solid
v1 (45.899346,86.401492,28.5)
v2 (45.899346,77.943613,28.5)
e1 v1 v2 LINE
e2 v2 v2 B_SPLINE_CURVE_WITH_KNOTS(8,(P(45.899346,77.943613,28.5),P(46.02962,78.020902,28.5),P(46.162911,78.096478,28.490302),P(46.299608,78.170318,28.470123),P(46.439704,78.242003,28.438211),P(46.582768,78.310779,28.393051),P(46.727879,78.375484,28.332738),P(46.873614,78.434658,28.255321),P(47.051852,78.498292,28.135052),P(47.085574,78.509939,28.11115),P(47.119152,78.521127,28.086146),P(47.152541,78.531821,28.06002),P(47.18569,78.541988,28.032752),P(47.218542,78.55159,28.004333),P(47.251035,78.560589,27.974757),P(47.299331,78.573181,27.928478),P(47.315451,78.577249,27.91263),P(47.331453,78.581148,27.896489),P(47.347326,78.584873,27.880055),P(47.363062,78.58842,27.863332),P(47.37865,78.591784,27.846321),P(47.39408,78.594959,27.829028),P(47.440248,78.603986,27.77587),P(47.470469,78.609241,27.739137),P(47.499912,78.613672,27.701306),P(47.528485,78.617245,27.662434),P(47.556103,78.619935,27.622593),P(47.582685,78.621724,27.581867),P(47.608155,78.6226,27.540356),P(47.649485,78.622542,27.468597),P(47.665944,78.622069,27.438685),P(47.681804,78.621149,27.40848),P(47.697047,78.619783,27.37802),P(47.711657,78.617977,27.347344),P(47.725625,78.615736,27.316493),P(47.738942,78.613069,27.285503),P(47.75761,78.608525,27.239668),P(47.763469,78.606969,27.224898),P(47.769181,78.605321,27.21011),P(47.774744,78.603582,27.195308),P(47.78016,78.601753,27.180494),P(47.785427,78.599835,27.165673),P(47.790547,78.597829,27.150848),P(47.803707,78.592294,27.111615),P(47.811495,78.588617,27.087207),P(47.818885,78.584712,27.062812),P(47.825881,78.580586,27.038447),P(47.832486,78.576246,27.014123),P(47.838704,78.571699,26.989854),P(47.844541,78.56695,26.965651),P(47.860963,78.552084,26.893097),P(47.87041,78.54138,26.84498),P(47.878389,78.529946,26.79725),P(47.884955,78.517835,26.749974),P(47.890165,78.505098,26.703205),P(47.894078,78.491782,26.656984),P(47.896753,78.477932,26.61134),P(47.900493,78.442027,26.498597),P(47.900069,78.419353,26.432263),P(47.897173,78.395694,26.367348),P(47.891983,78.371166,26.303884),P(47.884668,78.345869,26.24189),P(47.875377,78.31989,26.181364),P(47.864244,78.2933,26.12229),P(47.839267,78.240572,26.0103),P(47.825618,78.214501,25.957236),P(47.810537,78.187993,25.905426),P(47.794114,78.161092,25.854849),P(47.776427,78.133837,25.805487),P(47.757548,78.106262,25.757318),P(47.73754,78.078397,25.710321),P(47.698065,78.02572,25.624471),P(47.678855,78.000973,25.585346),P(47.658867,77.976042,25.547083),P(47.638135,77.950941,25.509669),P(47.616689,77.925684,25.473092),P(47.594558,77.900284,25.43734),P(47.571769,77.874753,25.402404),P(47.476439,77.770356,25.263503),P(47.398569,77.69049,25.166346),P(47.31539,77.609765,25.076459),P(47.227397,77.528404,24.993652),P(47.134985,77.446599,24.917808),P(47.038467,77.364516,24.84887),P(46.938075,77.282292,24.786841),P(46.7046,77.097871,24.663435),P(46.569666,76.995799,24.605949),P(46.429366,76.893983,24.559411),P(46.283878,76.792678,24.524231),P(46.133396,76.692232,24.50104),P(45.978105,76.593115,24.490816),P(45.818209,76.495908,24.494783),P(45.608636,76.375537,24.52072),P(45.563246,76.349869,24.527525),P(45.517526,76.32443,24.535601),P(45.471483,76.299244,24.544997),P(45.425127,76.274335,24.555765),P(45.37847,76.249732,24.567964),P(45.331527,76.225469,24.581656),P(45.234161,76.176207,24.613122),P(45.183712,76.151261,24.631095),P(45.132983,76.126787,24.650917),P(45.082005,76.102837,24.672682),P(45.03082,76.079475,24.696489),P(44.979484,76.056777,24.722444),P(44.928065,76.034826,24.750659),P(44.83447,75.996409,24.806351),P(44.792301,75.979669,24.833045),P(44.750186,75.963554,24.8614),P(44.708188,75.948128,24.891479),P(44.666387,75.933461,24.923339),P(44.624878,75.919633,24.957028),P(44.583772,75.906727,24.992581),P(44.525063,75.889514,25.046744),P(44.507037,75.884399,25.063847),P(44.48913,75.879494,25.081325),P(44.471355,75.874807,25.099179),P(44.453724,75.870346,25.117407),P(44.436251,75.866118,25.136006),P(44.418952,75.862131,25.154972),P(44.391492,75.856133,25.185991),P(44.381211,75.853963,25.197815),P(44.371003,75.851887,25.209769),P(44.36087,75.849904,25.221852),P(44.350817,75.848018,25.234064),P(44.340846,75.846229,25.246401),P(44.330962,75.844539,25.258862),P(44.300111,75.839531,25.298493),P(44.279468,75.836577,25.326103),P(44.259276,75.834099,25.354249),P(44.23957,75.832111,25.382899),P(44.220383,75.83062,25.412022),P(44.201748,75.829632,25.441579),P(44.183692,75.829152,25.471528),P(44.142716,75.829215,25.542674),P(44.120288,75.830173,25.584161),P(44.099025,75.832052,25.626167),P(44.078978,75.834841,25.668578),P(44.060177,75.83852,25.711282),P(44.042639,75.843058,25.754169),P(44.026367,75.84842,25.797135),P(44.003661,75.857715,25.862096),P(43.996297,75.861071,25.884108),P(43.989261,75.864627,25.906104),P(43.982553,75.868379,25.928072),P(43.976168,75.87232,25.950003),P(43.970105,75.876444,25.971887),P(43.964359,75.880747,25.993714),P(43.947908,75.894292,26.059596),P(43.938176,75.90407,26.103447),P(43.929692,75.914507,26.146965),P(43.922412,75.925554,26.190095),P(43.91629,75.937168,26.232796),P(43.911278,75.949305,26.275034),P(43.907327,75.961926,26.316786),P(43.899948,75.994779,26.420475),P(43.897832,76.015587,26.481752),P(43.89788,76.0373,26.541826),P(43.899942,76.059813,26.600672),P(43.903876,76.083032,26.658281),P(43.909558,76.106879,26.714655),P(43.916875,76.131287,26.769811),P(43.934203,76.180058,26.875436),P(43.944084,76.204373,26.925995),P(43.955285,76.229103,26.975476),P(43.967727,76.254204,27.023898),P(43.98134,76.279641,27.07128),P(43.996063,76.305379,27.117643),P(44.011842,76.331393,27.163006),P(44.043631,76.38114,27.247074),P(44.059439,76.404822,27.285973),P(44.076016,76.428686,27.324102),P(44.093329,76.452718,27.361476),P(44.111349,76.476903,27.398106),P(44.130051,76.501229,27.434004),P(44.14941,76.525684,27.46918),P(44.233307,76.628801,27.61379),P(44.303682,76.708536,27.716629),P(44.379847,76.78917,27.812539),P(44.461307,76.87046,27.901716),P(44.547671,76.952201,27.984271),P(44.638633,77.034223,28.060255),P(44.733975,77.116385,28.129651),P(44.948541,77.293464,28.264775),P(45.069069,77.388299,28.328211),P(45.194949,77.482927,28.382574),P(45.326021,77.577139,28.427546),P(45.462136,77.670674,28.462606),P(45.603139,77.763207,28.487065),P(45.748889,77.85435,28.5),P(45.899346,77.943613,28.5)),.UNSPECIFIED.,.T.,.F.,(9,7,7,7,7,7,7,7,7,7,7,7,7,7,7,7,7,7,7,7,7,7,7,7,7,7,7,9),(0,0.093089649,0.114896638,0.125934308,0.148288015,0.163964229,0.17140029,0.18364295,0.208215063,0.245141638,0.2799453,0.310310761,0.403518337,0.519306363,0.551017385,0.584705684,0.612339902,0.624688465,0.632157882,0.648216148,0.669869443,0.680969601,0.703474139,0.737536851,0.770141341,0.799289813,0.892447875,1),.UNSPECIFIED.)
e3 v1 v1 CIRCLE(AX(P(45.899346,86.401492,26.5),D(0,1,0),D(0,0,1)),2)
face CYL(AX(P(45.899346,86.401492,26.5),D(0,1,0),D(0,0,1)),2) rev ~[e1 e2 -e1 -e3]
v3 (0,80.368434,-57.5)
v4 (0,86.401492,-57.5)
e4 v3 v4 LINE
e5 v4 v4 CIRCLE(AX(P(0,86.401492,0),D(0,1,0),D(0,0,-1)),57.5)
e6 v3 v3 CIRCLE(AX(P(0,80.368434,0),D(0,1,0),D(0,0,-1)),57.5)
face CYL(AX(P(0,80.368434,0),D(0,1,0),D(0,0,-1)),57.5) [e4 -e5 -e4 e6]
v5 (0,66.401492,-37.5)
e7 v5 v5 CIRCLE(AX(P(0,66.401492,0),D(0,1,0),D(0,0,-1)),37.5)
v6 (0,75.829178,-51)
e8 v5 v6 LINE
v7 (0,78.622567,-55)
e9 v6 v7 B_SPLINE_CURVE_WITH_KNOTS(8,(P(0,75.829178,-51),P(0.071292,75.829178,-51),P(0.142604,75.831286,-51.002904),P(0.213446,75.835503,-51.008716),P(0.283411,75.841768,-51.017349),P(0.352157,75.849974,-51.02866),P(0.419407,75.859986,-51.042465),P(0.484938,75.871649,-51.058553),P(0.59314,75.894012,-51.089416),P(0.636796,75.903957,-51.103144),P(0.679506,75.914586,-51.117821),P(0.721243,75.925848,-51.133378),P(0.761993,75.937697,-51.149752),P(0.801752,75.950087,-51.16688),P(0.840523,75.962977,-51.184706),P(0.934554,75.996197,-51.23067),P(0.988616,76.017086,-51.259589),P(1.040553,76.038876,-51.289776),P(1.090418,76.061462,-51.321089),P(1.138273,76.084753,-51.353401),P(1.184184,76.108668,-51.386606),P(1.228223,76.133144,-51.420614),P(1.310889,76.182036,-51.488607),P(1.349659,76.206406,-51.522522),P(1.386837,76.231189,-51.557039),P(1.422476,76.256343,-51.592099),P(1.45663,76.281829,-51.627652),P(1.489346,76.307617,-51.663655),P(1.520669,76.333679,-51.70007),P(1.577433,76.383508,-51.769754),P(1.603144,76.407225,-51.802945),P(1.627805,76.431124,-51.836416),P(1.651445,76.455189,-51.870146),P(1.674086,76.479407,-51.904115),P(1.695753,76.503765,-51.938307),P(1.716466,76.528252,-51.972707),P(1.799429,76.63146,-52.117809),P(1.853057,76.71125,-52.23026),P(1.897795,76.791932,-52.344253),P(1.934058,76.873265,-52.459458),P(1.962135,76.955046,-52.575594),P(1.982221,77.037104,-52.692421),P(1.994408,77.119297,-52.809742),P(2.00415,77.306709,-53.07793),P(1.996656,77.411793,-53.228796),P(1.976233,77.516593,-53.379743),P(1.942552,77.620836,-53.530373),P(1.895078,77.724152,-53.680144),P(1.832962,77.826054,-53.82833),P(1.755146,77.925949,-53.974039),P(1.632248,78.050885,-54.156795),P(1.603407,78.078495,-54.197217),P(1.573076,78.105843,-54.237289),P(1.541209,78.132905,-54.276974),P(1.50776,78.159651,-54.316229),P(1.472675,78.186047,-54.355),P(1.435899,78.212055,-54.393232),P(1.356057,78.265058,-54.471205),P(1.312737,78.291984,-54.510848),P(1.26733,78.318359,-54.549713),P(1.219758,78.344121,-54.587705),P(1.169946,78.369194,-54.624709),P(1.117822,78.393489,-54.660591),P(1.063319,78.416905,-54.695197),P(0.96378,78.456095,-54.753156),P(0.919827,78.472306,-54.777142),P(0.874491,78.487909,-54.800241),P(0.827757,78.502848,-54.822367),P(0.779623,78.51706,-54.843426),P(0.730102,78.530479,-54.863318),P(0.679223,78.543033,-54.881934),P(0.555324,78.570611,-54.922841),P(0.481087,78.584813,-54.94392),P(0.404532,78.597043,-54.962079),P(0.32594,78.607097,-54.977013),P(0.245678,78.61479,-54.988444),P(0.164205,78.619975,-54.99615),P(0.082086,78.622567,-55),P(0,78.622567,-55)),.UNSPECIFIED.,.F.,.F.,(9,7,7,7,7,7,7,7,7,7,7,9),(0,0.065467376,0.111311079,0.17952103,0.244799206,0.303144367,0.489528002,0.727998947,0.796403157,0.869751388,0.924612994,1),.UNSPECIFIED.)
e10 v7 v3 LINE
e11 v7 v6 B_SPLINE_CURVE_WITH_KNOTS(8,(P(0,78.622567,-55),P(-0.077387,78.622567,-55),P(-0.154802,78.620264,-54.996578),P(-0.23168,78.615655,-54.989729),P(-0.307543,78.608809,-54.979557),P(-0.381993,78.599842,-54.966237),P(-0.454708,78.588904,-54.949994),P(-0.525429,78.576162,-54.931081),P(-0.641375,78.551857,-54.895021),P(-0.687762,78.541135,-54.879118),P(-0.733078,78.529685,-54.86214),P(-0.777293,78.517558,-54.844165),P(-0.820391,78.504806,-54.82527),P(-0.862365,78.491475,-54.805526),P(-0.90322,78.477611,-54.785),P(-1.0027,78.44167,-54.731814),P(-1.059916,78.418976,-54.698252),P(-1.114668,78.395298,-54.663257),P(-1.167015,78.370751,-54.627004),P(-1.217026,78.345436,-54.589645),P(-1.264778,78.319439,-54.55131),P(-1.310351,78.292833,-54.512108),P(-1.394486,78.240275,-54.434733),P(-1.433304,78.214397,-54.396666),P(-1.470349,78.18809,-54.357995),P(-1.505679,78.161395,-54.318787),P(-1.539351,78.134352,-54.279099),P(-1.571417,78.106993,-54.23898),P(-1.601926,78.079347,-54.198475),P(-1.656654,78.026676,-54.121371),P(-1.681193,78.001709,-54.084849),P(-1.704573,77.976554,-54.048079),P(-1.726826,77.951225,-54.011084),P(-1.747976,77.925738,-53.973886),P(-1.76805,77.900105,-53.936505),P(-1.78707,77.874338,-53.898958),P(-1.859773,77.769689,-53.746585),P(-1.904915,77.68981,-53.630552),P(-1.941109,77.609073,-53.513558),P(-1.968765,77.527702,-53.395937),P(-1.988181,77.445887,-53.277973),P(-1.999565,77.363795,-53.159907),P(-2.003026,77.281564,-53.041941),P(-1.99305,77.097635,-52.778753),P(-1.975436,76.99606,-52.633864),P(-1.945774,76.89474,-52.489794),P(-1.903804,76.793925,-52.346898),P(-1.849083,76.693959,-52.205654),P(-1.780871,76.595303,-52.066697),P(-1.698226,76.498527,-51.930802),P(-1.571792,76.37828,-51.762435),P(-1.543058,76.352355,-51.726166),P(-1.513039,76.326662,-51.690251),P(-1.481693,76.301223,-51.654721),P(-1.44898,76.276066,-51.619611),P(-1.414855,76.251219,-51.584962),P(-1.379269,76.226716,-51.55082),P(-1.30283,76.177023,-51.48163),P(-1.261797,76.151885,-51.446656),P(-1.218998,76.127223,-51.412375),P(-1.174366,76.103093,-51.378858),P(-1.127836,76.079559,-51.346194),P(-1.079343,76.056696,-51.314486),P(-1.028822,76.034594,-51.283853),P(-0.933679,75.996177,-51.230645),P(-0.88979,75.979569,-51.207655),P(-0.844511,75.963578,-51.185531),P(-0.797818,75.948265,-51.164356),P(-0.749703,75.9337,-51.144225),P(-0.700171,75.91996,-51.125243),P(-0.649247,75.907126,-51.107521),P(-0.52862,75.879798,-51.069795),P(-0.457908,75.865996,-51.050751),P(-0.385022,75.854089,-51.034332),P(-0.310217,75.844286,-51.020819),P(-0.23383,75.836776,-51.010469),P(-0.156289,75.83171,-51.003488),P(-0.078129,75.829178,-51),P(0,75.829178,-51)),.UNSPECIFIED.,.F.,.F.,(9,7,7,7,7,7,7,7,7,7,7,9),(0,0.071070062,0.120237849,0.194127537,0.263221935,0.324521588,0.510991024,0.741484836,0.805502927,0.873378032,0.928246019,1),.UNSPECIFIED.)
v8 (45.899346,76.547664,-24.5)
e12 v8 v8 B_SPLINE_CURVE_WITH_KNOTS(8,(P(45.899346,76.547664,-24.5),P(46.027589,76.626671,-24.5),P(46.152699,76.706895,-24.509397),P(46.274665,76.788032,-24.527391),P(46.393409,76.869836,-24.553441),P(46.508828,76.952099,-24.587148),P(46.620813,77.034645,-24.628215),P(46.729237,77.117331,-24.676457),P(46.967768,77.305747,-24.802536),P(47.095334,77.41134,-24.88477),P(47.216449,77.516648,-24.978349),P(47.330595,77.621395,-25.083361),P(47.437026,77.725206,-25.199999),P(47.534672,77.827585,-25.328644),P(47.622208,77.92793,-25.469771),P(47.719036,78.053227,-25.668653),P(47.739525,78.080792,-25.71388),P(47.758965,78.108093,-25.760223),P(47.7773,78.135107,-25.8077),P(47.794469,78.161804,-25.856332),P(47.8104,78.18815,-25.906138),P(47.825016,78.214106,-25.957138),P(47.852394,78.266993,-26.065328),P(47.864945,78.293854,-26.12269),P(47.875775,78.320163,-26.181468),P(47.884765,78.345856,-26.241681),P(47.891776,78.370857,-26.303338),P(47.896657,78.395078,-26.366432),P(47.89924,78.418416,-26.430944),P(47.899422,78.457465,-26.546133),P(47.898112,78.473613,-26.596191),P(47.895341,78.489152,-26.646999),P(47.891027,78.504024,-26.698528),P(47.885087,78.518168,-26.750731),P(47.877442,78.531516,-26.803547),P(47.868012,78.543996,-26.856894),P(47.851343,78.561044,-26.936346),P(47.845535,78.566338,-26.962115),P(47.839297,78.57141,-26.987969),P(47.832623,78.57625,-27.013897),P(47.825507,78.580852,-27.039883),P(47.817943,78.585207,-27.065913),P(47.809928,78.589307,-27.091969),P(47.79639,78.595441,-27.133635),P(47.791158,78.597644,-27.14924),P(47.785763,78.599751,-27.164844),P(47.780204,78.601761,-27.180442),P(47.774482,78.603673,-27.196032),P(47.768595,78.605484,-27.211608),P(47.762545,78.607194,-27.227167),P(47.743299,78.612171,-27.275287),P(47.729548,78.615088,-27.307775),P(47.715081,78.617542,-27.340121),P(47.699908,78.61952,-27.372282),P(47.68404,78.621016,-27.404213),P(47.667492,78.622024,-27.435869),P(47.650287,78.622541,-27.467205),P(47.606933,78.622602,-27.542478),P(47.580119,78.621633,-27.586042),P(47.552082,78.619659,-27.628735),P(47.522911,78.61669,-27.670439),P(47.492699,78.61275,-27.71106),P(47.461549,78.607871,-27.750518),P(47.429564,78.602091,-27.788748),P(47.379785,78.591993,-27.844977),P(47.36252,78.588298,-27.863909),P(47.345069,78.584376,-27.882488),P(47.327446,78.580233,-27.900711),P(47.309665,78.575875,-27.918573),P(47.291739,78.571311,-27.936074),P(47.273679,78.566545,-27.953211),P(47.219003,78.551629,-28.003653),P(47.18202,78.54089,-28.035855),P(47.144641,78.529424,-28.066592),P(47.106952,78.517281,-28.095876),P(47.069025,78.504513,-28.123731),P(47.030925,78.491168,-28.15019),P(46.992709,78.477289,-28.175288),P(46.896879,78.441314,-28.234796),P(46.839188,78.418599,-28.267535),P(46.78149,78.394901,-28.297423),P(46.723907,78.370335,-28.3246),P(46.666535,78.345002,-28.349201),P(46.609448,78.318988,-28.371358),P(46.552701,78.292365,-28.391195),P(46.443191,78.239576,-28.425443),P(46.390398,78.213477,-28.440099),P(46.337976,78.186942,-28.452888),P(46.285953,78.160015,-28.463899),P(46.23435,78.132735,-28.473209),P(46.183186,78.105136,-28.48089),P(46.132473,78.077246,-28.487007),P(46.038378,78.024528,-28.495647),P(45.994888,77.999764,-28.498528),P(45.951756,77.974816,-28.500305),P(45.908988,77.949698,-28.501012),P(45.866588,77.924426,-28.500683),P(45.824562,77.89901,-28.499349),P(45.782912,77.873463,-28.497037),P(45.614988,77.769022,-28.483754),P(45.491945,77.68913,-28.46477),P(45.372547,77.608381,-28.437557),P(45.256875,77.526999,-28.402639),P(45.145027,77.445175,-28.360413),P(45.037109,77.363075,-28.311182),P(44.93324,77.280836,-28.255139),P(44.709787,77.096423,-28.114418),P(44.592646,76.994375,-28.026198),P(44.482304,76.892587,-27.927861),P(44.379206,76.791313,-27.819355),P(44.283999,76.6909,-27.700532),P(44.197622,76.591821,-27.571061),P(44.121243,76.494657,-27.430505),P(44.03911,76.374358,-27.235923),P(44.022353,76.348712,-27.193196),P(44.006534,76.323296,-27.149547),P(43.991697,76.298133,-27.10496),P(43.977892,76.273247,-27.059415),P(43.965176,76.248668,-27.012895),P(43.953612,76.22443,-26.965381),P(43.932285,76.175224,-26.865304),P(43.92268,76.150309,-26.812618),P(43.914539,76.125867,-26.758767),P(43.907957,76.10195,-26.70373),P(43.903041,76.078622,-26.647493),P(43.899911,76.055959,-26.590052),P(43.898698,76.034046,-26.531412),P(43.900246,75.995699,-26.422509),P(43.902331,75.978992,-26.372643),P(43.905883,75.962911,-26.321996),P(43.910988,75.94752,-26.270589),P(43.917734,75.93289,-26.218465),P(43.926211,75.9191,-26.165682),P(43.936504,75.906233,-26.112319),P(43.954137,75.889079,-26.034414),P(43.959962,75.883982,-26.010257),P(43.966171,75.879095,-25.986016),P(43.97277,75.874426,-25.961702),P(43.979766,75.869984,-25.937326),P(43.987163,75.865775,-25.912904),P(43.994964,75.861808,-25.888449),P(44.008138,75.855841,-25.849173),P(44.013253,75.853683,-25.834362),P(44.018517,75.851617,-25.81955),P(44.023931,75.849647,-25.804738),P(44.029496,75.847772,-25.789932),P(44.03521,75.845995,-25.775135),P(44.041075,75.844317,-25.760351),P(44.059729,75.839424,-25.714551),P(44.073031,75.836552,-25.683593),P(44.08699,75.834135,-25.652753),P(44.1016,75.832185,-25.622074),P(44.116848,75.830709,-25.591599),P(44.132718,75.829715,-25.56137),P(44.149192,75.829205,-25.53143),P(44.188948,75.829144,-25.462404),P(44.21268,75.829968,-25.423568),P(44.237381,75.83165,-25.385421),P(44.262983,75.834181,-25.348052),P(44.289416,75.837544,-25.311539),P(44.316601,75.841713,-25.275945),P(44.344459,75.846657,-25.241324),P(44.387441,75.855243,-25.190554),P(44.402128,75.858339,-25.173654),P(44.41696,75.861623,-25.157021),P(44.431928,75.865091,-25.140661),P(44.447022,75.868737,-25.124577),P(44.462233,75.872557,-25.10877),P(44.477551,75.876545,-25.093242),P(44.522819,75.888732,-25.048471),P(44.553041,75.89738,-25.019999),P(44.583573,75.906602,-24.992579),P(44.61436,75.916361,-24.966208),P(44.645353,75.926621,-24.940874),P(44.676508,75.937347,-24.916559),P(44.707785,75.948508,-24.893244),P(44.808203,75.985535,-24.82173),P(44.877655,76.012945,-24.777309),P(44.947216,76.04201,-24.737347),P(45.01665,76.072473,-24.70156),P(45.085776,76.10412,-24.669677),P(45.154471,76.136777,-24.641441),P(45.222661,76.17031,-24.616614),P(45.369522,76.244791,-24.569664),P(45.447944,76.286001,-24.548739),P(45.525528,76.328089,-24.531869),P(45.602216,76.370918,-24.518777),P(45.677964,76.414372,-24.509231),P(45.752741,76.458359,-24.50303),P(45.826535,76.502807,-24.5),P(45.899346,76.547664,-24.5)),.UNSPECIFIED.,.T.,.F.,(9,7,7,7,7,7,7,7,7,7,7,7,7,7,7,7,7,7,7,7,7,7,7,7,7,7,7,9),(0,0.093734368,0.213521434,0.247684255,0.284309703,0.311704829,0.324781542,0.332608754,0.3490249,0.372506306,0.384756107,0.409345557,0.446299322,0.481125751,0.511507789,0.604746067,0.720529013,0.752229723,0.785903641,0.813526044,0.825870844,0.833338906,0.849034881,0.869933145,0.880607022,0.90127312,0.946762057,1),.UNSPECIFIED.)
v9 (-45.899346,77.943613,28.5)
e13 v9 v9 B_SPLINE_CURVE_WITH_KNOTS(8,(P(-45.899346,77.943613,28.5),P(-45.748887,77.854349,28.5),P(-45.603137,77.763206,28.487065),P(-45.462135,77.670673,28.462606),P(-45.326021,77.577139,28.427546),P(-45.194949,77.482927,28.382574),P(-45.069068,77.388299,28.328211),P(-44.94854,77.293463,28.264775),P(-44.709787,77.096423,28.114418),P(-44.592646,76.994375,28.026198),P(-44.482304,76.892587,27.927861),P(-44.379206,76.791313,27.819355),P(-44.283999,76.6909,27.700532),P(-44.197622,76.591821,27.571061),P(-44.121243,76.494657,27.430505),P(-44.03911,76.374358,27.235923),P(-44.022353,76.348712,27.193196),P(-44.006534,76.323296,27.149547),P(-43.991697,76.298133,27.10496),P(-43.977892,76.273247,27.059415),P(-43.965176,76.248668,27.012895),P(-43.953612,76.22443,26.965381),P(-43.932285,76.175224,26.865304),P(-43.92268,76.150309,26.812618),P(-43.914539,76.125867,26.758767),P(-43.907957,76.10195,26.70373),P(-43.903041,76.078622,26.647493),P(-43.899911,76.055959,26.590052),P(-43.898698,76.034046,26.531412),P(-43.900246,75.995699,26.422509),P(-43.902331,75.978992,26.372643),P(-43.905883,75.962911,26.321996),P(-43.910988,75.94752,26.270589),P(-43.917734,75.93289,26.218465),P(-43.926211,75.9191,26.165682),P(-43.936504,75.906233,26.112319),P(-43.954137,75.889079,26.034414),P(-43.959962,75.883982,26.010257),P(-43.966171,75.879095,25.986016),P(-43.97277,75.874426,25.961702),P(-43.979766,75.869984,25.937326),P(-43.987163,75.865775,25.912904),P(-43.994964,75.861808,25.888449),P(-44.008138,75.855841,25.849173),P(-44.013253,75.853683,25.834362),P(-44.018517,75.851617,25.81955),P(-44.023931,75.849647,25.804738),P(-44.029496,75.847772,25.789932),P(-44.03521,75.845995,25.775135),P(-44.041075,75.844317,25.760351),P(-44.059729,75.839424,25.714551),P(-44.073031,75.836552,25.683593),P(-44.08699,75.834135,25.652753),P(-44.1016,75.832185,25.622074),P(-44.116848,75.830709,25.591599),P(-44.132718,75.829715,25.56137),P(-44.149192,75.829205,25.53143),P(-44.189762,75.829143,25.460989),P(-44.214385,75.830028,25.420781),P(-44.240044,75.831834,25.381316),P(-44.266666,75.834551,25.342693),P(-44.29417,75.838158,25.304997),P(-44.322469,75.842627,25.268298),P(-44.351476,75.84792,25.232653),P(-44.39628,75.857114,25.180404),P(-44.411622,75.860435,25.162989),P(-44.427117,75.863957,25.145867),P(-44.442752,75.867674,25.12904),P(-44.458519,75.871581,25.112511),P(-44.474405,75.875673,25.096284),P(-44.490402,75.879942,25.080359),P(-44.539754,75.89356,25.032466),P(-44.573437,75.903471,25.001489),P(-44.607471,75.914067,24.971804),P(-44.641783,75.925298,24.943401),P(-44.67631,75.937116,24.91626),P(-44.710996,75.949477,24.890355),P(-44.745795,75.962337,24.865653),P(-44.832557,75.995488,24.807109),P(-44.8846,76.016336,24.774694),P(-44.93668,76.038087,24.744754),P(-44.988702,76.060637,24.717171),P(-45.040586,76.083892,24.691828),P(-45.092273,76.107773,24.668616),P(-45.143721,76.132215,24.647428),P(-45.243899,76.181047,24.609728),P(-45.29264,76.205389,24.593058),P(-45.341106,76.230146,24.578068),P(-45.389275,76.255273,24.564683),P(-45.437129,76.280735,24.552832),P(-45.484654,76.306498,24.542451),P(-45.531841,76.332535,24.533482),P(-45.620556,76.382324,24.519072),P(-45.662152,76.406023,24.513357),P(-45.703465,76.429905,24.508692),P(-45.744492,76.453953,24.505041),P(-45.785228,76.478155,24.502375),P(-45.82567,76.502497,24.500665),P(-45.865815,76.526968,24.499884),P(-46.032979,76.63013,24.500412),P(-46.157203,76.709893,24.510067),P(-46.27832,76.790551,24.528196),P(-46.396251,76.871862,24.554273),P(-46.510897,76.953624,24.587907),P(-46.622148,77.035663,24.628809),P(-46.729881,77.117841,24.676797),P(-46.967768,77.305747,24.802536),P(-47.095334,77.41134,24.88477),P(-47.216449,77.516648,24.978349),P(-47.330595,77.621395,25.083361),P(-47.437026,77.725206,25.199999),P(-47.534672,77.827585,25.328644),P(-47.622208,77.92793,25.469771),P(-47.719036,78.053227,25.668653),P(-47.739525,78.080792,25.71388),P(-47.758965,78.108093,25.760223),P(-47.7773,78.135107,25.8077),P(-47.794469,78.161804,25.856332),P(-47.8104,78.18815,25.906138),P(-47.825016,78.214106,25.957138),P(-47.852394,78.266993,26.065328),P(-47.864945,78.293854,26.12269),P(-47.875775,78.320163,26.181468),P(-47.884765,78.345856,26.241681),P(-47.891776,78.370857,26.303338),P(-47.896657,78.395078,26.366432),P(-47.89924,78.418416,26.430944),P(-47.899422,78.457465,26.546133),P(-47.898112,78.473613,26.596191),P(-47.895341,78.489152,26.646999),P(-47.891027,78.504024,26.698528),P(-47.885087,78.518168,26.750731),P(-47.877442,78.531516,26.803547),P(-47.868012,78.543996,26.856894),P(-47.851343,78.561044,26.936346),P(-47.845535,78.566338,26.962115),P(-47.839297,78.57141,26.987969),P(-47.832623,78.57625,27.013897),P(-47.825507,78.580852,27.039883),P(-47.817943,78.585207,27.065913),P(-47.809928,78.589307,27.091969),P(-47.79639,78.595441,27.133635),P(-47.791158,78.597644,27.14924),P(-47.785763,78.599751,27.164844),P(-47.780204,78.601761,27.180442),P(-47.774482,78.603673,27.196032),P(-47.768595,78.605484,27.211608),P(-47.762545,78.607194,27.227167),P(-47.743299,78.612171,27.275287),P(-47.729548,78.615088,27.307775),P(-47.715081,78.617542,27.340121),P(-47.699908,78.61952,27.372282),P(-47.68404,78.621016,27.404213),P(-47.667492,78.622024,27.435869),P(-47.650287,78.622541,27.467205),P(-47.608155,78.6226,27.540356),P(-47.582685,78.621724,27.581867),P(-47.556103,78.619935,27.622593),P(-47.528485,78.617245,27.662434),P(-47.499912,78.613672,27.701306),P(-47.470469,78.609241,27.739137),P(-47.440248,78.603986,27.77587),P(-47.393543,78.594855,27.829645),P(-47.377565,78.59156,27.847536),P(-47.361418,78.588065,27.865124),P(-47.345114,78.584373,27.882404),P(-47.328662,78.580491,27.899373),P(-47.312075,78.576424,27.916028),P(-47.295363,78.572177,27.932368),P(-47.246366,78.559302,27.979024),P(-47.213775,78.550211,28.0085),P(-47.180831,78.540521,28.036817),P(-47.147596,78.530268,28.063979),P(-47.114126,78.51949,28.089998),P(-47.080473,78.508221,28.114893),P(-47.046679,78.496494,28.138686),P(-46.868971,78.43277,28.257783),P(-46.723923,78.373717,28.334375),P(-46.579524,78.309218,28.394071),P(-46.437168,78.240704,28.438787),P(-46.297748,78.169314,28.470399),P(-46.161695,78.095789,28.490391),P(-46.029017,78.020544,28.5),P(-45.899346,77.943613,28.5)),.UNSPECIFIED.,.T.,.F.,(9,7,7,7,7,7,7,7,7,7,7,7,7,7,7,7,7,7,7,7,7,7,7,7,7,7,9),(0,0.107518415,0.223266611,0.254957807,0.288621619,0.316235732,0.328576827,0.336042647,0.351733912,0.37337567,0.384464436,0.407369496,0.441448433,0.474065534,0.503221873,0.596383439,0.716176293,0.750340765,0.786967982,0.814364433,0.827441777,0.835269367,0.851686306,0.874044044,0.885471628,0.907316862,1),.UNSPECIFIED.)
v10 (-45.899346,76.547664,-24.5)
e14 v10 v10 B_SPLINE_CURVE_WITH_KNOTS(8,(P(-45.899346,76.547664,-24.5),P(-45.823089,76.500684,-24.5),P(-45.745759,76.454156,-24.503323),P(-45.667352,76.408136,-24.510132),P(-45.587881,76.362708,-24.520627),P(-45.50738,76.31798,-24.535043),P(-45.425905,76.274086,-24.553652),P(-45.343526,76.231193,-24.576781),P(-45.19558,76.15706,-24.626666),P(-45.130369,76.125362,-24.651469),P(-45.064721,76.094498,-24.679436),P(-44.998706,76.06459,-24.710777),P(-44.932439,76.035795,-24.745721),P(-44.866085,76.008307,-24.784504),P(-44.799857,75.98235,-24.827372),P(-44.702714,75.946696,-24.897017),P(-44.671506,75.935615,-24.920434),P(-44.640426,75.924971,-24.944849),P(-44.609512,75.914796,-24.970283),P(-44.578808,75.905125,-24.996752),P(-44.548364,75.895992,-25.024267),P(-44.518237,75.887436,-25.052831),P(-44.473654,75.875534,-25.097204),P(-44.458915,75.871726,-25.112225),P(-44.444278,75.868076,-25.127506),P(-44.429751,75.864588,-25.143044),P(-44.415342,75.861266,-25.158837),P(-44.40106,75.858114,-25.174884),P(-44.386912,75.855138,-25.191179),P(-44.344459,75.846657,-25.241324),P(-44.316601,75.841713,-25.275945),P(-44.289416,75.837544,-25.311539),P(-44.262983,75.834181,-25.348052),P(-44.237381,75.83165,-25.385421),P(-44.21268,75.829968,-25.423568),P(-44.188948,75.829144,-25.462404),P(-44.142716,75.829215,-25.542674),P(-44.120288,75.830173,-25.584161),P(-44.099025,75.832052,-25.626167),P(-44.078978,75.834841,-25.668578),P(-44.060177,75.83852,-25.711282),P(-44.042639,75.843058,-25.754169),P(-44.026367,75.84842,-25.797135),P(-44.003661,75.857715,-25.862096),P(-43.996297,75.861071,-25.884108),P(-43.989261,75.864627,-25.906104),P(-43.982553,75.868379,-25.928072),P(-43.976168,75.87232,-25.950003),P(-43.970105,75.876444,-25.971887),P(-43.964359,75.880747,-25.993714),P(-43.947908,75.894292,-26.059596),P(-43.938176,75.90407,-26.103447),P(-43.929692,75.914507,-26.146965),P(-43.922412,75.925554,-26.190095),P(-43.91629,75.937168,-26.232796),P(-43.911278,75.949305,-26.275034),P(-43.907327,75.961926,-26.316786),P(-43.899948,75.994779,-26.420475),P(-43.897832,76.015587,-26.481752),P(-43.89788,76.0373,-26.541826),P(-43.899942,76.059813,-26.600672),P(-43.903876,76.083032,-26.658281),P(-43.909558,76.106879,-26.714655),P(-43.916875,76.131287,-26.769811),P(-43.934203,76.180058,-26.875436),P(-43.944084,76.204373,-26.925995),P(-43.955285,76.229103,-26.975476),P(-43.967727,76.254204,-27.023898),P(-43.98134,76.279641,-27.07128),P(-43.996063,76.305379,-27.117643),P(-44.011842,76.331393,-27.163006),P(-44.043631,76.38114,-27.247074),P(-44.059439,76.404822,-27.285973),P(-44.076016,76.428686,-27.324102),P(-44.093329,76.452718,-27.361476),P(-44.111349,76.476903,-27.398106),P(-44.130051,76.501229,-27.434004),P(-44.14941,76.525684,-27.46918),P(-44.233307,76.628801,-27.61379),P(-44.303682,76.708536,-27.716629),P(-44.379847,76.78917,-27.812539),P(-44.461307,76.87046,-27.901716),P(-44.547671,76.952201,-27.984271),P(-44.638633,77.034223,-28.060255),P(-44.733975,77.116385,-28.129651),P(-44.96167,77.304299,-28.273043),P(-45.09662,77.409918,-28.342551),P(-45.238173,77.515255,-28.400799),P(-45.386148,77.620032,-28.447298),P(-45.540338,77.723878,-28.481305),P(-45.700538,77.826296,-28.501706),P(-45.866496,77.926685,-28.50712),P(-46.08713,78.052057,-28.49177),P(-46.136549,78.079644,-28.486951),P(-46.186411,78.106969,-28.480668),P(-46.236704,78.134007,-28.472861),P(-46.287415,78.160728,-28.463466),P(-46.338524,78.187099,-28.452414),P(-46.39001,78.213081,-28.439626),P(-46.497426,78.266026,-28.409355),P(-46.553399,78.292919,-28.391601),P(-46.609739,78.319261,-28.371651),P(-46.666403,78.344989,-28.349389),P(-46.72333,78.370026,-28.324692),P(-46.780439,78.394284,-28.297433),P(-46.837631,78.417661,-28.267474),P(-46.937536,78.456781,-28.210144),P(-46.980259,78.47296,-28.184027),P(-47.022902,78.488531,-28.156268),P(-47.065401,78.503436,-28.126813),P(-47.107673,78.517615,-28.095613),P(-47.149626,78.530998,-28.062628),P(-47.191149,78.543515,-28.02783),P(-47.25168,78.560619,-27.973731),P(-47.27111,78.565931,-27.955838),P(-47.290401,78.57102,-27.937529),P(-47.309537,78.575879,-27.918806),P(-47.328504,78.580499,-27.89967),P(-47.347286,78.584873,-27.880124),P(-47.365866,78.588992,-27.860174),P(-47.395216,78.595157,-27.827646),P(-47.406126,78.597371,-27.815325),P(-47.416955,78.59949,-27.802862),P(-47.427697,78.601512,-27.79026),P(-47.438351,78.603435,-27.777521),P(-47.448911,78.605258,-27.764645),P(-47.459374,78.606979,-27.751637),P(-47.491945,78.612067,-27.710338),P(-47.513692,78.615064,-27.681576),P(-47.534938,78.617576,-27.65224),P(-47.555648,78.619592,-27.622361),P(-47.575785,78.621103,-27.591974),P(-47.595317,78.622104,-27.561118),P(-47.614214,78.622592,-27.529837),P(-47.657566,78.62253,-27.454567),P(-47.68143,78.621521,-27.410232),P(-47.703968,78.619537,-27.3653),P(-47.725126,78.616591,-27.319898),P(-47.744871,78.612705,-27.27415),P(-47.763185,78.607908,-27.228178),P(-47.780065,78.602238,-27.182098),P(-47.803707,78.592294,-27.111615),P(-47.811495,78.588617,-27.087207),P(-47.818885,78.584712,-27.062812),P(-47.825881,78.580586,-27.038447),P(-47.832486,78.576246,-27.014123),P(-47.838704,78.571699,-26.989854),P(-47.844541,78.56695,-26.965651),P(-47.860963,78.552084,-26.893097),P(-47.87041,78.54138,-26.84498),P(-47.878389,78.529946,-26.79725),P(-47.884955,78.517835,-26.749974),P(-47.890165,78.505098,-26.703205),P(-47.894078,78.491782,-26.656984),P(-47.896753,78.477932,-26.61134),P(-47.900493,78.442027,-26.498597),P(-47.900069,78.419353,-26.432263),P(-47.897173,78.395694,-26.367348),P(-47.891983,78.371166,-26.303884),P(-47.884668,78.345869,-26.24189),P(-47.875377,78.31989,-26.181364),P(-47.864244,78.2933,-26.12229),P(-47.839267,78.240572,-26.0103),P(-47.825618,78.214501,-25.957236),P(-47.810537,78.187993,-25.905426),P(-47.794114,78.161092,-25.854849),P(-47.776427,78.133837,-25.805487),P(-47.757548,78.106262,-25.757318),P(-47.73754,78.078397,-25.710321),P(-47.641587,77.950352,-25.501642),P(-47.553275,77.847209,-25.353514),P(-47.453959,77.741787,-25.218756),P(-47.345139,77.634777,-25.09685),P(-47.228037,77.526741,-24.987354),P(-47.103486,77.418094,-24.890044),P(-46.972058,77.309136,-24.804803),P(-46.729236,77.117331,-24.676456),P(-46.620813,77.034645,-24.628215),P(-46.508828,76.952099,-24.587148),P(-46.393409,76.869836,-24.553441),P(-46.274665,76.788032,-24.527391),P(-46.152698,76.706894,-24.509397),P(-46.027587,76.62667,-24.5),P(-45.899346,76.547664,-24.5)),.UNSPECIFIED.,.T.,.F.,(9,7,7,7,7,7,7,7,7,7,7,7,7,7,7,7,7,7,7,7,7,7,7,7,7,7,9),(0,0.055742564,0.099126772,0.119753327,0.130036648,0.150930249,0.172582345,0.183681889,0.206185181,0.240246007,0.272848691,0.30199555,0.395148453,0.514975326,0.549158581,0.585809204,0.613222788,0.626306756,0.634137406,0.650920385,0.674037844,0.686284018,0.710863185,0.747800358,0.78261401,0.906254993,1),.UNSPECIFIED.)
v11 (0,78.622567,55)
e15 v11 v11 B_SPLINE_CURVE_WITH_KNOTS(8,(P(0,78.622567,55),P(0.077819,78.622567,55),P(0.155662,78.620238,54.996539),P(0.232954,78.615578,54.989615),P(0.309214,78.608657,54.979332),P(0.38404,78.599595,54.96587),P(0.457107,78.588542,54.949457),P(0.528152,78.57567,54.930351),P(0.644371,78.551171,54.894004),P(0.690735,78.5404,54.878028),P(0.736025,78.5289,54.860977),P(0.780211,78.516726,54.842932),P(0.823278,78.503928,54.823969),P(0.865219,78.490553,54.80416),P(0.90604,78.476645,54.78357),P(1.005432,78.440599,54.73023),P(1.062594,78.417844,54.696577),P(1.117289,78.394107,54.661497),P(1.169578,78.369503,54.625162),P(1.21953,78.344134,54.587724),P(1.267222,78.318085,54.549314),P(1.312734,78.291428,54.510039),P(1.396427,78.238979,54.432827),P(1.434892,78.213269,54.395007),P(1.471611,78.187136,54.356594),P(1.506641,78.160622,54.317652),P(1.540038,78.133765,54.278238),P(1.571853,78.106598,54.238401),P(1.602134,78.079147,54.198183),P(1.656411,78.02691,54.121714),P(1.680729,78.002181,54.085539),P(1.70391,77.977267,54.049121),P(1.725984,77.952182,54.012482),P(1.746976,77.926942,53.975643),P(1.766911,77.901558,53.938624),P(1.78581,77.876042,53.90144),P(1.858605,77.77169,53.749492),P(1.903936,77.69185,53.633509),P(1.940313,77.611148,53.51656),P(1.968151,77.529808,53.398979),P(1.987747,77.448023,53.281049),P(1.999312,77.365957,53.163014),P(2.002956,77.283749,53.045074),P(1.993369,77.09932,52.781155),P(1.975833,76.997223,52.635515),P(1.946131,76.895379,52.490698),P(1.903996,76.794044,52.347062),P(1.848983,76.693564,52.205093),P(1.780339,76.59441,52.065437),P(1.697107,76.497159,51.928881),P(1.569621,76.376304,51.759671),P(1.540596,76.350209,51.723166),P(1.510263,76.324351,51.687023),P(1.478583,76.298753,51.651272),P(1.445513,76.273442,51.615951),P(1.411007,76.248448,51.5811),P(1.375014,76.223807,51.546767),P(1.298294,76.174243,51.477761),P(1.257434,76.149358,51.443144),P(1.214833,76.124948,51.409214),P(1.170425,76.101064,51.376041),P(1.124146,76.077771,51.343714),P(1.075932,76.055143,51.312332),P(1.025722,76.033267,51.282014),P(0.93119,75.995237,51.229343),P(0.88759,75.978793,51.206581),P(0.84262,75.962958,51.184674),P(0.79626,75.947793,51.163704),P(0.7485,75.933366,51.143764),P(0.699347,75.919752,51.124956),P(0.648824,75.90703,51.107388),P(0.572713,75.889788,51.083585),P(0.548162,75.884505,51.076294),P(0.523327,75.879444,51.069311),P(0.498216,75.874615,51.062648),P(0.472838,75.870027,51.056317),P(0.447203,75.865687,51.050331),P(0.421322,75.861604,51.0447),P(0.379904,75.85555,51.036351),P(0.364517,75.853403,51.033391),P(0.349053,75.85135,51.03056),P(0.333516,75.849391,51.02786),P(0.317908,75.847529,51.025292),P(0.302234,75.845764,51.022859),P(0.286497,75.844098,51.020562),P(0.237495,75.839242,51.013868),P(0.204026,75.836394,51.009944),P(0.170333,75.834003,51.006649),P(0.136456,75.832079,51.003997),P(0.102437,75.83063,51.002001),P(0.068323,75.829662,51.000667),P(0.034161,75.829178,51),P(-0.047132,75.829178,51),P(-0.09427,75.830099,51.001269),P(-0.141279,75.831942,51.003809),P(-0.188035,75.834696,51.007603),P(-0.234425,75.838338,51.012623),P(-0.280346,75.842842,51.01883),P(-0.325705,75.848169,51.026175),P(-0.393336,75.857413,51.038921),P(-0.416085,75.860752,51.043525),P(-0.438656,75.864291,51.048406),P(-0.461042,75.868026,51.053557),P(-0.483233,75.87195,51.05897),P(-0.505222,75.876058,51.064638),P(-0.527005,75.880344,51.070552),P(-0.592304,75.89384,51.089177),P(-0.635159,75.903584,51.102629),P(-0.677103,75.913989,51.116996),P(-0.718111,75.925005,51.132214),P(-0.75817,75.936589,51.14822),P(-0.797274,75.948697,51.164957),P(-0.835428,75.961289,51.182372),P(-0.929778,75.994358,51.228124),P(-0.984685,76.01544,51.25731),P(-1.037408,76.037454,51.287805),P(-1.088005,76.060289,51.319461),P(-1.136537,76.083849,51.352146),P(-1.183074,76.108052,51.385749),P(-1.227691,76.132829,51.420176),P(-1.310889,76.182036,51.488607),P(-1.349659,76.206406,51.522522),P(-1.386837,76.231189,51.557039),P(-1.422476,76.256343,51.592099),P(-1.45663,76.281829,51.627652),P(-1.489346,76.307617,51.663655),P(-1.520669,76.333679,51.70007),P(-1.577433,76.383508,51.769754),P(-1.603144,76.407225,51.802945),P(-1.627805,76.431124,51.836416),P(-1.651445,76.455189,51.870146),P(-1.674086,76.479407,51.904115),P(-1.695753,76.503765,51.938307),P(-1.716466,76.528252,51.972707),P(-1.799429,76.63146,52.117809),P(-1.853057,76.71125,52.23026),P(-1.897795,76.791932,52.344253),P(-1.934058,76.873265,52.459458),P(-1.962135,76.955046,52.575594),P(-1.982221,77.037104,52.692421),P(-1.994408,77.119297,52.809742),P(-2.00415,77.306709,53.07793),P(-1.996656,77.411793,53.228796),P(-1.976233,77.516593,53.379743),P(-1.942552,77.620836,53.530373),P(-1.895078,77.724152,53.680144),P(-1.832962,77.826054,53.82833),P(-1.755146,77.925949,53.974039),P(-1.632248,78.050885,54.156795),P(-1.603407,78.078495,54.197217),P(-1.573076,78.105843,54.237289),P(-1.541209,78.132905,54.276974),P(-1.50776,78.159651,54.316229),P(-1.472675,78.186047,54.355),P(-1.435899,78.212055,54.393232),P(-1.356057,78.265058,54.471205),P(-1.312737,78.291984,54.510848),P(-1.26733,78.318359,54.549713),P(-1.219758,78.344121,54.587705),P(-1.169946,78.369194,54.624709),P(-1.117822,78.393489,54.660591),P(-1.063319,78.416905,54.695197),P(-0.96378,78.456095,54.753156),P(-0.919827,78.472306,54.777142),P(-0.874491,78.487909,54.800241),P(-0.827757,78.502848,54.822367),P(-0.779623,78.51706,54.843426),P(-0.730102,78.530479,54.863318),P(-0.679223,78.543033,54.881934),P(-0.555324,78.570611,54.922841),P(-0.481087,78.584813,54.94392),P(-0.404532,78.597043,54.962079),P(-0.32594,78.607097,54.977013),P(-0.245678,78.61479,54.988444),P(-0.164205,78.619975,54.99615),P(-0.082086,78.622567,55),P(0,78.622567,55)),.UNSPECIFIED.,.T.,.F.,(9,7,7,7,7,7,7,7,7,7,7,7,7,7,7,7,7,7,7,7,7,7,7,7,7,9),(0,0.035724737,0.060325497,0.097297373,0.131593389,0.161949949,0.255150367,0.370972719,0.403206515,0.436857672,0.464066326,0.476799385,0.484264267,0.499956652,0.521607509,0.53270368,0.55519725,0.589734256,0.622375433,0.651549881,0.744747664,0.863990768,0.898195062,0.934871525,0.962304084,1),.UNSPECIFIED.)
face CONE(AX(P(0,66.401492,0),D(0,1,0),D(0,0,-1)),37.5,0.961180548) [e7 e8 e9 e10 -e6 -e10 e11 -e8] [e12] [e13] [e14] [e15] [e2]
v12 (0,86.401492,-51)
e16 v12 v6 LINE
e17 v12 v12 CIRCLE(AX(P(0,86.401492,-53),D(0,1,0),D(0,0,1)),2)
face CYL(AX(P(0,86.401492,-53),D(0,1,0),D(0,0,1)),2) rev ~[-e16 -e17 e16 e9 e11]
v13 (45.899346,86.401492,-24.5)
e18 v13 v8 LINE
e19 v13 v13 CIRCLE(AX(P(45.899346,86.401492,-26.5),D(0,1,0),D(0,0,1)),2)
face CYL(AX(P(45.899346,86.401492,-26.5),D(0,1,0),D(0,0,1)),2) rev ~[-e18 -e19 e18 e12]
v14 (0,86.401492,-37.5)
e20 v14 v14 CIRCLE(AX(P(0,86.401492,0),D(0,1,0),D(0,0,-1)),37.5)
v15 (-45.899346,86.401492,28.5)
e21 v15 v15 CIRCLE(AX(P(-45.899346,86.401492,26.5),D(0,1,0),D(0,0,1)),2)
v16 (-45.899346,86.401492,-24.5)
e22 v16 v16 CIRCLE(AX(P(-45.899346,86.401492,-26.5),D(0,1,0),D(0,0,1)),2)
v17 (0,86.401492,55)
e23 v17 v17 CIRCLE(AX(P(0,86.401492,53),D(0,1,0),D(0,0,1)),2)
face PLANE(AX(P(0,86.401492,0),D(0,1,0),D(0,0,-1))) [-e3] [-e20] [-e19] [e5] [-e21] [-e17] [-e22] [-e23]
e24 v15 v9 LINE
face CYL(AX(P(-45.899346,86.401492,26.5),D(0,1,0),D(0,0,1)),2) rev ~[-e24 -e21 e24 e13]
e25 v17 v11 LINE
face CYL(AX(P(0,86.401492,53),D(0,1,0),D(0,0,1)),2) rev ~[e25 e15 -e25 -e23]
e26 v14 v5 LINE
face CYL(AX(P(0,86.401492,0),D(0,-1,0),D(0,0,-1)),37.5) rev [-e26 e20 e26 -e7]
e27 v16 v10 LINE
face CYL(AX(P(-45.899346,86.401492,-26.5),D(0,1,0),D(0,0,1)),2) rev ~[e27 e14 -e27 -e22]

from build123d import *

# Parameters (mm, degrees)
SKETCH2_R          = 2
CUT_EXTRUDE1_DEPTH = 84.740671122


with BuildPart() as part:
    # Sketch1 → Revolve1 (revolve)
    with BuildSketch(Plane(origin=(0, 0, 0), x_dir=(0, 0, -1), z_dir=(1, 0, 0))):
        Polygon((37.5, 66.401492208), (57.5, 80.368434357), (57.5, 86.401492208), (37.5, 86.401492208), align=None)
    revolve(axis=Axis((0, 0, 0), (0, 1, 0)))

    # Sketch2 → Cut-Extrude1 (cut, through all)
    with BuildSketch(Plane(origin=(0, 86.401492208, 0), x_dir=(1, 0, 0), z_dir=(0, 1, 0))):
        with Locations(Location((0, -53, 0), (0, 0, 270))):
            Circle(SKETCH2_R)
        with Locations(Location((-45.899346401, -26.5, 0), (0, 0, 270))):
            Circle(SKETCH2_R)
        with Locations(Location((-45.899346401, 26.5, 0), (0, 0, 270))):
            Circle(SKETCH2_R)
        with Locations(Location((0, 53, 0), (0, 0, 270))):
            Circle(SKETCH2_R)
        with Locations(Location((45.899346401, 26.5, 0), (0, 0, 270))):
            Circle(SKETCH2_R)
        with Locations(Location((45.899346401, -26.5, 0), (0, 0, 270))):
            Circle(SKETCH2_R)
    extrude(amount=-CUT_EXTRUDE1_DEPTH, mode=Mode.SUBTRACT)


solid = part.part
